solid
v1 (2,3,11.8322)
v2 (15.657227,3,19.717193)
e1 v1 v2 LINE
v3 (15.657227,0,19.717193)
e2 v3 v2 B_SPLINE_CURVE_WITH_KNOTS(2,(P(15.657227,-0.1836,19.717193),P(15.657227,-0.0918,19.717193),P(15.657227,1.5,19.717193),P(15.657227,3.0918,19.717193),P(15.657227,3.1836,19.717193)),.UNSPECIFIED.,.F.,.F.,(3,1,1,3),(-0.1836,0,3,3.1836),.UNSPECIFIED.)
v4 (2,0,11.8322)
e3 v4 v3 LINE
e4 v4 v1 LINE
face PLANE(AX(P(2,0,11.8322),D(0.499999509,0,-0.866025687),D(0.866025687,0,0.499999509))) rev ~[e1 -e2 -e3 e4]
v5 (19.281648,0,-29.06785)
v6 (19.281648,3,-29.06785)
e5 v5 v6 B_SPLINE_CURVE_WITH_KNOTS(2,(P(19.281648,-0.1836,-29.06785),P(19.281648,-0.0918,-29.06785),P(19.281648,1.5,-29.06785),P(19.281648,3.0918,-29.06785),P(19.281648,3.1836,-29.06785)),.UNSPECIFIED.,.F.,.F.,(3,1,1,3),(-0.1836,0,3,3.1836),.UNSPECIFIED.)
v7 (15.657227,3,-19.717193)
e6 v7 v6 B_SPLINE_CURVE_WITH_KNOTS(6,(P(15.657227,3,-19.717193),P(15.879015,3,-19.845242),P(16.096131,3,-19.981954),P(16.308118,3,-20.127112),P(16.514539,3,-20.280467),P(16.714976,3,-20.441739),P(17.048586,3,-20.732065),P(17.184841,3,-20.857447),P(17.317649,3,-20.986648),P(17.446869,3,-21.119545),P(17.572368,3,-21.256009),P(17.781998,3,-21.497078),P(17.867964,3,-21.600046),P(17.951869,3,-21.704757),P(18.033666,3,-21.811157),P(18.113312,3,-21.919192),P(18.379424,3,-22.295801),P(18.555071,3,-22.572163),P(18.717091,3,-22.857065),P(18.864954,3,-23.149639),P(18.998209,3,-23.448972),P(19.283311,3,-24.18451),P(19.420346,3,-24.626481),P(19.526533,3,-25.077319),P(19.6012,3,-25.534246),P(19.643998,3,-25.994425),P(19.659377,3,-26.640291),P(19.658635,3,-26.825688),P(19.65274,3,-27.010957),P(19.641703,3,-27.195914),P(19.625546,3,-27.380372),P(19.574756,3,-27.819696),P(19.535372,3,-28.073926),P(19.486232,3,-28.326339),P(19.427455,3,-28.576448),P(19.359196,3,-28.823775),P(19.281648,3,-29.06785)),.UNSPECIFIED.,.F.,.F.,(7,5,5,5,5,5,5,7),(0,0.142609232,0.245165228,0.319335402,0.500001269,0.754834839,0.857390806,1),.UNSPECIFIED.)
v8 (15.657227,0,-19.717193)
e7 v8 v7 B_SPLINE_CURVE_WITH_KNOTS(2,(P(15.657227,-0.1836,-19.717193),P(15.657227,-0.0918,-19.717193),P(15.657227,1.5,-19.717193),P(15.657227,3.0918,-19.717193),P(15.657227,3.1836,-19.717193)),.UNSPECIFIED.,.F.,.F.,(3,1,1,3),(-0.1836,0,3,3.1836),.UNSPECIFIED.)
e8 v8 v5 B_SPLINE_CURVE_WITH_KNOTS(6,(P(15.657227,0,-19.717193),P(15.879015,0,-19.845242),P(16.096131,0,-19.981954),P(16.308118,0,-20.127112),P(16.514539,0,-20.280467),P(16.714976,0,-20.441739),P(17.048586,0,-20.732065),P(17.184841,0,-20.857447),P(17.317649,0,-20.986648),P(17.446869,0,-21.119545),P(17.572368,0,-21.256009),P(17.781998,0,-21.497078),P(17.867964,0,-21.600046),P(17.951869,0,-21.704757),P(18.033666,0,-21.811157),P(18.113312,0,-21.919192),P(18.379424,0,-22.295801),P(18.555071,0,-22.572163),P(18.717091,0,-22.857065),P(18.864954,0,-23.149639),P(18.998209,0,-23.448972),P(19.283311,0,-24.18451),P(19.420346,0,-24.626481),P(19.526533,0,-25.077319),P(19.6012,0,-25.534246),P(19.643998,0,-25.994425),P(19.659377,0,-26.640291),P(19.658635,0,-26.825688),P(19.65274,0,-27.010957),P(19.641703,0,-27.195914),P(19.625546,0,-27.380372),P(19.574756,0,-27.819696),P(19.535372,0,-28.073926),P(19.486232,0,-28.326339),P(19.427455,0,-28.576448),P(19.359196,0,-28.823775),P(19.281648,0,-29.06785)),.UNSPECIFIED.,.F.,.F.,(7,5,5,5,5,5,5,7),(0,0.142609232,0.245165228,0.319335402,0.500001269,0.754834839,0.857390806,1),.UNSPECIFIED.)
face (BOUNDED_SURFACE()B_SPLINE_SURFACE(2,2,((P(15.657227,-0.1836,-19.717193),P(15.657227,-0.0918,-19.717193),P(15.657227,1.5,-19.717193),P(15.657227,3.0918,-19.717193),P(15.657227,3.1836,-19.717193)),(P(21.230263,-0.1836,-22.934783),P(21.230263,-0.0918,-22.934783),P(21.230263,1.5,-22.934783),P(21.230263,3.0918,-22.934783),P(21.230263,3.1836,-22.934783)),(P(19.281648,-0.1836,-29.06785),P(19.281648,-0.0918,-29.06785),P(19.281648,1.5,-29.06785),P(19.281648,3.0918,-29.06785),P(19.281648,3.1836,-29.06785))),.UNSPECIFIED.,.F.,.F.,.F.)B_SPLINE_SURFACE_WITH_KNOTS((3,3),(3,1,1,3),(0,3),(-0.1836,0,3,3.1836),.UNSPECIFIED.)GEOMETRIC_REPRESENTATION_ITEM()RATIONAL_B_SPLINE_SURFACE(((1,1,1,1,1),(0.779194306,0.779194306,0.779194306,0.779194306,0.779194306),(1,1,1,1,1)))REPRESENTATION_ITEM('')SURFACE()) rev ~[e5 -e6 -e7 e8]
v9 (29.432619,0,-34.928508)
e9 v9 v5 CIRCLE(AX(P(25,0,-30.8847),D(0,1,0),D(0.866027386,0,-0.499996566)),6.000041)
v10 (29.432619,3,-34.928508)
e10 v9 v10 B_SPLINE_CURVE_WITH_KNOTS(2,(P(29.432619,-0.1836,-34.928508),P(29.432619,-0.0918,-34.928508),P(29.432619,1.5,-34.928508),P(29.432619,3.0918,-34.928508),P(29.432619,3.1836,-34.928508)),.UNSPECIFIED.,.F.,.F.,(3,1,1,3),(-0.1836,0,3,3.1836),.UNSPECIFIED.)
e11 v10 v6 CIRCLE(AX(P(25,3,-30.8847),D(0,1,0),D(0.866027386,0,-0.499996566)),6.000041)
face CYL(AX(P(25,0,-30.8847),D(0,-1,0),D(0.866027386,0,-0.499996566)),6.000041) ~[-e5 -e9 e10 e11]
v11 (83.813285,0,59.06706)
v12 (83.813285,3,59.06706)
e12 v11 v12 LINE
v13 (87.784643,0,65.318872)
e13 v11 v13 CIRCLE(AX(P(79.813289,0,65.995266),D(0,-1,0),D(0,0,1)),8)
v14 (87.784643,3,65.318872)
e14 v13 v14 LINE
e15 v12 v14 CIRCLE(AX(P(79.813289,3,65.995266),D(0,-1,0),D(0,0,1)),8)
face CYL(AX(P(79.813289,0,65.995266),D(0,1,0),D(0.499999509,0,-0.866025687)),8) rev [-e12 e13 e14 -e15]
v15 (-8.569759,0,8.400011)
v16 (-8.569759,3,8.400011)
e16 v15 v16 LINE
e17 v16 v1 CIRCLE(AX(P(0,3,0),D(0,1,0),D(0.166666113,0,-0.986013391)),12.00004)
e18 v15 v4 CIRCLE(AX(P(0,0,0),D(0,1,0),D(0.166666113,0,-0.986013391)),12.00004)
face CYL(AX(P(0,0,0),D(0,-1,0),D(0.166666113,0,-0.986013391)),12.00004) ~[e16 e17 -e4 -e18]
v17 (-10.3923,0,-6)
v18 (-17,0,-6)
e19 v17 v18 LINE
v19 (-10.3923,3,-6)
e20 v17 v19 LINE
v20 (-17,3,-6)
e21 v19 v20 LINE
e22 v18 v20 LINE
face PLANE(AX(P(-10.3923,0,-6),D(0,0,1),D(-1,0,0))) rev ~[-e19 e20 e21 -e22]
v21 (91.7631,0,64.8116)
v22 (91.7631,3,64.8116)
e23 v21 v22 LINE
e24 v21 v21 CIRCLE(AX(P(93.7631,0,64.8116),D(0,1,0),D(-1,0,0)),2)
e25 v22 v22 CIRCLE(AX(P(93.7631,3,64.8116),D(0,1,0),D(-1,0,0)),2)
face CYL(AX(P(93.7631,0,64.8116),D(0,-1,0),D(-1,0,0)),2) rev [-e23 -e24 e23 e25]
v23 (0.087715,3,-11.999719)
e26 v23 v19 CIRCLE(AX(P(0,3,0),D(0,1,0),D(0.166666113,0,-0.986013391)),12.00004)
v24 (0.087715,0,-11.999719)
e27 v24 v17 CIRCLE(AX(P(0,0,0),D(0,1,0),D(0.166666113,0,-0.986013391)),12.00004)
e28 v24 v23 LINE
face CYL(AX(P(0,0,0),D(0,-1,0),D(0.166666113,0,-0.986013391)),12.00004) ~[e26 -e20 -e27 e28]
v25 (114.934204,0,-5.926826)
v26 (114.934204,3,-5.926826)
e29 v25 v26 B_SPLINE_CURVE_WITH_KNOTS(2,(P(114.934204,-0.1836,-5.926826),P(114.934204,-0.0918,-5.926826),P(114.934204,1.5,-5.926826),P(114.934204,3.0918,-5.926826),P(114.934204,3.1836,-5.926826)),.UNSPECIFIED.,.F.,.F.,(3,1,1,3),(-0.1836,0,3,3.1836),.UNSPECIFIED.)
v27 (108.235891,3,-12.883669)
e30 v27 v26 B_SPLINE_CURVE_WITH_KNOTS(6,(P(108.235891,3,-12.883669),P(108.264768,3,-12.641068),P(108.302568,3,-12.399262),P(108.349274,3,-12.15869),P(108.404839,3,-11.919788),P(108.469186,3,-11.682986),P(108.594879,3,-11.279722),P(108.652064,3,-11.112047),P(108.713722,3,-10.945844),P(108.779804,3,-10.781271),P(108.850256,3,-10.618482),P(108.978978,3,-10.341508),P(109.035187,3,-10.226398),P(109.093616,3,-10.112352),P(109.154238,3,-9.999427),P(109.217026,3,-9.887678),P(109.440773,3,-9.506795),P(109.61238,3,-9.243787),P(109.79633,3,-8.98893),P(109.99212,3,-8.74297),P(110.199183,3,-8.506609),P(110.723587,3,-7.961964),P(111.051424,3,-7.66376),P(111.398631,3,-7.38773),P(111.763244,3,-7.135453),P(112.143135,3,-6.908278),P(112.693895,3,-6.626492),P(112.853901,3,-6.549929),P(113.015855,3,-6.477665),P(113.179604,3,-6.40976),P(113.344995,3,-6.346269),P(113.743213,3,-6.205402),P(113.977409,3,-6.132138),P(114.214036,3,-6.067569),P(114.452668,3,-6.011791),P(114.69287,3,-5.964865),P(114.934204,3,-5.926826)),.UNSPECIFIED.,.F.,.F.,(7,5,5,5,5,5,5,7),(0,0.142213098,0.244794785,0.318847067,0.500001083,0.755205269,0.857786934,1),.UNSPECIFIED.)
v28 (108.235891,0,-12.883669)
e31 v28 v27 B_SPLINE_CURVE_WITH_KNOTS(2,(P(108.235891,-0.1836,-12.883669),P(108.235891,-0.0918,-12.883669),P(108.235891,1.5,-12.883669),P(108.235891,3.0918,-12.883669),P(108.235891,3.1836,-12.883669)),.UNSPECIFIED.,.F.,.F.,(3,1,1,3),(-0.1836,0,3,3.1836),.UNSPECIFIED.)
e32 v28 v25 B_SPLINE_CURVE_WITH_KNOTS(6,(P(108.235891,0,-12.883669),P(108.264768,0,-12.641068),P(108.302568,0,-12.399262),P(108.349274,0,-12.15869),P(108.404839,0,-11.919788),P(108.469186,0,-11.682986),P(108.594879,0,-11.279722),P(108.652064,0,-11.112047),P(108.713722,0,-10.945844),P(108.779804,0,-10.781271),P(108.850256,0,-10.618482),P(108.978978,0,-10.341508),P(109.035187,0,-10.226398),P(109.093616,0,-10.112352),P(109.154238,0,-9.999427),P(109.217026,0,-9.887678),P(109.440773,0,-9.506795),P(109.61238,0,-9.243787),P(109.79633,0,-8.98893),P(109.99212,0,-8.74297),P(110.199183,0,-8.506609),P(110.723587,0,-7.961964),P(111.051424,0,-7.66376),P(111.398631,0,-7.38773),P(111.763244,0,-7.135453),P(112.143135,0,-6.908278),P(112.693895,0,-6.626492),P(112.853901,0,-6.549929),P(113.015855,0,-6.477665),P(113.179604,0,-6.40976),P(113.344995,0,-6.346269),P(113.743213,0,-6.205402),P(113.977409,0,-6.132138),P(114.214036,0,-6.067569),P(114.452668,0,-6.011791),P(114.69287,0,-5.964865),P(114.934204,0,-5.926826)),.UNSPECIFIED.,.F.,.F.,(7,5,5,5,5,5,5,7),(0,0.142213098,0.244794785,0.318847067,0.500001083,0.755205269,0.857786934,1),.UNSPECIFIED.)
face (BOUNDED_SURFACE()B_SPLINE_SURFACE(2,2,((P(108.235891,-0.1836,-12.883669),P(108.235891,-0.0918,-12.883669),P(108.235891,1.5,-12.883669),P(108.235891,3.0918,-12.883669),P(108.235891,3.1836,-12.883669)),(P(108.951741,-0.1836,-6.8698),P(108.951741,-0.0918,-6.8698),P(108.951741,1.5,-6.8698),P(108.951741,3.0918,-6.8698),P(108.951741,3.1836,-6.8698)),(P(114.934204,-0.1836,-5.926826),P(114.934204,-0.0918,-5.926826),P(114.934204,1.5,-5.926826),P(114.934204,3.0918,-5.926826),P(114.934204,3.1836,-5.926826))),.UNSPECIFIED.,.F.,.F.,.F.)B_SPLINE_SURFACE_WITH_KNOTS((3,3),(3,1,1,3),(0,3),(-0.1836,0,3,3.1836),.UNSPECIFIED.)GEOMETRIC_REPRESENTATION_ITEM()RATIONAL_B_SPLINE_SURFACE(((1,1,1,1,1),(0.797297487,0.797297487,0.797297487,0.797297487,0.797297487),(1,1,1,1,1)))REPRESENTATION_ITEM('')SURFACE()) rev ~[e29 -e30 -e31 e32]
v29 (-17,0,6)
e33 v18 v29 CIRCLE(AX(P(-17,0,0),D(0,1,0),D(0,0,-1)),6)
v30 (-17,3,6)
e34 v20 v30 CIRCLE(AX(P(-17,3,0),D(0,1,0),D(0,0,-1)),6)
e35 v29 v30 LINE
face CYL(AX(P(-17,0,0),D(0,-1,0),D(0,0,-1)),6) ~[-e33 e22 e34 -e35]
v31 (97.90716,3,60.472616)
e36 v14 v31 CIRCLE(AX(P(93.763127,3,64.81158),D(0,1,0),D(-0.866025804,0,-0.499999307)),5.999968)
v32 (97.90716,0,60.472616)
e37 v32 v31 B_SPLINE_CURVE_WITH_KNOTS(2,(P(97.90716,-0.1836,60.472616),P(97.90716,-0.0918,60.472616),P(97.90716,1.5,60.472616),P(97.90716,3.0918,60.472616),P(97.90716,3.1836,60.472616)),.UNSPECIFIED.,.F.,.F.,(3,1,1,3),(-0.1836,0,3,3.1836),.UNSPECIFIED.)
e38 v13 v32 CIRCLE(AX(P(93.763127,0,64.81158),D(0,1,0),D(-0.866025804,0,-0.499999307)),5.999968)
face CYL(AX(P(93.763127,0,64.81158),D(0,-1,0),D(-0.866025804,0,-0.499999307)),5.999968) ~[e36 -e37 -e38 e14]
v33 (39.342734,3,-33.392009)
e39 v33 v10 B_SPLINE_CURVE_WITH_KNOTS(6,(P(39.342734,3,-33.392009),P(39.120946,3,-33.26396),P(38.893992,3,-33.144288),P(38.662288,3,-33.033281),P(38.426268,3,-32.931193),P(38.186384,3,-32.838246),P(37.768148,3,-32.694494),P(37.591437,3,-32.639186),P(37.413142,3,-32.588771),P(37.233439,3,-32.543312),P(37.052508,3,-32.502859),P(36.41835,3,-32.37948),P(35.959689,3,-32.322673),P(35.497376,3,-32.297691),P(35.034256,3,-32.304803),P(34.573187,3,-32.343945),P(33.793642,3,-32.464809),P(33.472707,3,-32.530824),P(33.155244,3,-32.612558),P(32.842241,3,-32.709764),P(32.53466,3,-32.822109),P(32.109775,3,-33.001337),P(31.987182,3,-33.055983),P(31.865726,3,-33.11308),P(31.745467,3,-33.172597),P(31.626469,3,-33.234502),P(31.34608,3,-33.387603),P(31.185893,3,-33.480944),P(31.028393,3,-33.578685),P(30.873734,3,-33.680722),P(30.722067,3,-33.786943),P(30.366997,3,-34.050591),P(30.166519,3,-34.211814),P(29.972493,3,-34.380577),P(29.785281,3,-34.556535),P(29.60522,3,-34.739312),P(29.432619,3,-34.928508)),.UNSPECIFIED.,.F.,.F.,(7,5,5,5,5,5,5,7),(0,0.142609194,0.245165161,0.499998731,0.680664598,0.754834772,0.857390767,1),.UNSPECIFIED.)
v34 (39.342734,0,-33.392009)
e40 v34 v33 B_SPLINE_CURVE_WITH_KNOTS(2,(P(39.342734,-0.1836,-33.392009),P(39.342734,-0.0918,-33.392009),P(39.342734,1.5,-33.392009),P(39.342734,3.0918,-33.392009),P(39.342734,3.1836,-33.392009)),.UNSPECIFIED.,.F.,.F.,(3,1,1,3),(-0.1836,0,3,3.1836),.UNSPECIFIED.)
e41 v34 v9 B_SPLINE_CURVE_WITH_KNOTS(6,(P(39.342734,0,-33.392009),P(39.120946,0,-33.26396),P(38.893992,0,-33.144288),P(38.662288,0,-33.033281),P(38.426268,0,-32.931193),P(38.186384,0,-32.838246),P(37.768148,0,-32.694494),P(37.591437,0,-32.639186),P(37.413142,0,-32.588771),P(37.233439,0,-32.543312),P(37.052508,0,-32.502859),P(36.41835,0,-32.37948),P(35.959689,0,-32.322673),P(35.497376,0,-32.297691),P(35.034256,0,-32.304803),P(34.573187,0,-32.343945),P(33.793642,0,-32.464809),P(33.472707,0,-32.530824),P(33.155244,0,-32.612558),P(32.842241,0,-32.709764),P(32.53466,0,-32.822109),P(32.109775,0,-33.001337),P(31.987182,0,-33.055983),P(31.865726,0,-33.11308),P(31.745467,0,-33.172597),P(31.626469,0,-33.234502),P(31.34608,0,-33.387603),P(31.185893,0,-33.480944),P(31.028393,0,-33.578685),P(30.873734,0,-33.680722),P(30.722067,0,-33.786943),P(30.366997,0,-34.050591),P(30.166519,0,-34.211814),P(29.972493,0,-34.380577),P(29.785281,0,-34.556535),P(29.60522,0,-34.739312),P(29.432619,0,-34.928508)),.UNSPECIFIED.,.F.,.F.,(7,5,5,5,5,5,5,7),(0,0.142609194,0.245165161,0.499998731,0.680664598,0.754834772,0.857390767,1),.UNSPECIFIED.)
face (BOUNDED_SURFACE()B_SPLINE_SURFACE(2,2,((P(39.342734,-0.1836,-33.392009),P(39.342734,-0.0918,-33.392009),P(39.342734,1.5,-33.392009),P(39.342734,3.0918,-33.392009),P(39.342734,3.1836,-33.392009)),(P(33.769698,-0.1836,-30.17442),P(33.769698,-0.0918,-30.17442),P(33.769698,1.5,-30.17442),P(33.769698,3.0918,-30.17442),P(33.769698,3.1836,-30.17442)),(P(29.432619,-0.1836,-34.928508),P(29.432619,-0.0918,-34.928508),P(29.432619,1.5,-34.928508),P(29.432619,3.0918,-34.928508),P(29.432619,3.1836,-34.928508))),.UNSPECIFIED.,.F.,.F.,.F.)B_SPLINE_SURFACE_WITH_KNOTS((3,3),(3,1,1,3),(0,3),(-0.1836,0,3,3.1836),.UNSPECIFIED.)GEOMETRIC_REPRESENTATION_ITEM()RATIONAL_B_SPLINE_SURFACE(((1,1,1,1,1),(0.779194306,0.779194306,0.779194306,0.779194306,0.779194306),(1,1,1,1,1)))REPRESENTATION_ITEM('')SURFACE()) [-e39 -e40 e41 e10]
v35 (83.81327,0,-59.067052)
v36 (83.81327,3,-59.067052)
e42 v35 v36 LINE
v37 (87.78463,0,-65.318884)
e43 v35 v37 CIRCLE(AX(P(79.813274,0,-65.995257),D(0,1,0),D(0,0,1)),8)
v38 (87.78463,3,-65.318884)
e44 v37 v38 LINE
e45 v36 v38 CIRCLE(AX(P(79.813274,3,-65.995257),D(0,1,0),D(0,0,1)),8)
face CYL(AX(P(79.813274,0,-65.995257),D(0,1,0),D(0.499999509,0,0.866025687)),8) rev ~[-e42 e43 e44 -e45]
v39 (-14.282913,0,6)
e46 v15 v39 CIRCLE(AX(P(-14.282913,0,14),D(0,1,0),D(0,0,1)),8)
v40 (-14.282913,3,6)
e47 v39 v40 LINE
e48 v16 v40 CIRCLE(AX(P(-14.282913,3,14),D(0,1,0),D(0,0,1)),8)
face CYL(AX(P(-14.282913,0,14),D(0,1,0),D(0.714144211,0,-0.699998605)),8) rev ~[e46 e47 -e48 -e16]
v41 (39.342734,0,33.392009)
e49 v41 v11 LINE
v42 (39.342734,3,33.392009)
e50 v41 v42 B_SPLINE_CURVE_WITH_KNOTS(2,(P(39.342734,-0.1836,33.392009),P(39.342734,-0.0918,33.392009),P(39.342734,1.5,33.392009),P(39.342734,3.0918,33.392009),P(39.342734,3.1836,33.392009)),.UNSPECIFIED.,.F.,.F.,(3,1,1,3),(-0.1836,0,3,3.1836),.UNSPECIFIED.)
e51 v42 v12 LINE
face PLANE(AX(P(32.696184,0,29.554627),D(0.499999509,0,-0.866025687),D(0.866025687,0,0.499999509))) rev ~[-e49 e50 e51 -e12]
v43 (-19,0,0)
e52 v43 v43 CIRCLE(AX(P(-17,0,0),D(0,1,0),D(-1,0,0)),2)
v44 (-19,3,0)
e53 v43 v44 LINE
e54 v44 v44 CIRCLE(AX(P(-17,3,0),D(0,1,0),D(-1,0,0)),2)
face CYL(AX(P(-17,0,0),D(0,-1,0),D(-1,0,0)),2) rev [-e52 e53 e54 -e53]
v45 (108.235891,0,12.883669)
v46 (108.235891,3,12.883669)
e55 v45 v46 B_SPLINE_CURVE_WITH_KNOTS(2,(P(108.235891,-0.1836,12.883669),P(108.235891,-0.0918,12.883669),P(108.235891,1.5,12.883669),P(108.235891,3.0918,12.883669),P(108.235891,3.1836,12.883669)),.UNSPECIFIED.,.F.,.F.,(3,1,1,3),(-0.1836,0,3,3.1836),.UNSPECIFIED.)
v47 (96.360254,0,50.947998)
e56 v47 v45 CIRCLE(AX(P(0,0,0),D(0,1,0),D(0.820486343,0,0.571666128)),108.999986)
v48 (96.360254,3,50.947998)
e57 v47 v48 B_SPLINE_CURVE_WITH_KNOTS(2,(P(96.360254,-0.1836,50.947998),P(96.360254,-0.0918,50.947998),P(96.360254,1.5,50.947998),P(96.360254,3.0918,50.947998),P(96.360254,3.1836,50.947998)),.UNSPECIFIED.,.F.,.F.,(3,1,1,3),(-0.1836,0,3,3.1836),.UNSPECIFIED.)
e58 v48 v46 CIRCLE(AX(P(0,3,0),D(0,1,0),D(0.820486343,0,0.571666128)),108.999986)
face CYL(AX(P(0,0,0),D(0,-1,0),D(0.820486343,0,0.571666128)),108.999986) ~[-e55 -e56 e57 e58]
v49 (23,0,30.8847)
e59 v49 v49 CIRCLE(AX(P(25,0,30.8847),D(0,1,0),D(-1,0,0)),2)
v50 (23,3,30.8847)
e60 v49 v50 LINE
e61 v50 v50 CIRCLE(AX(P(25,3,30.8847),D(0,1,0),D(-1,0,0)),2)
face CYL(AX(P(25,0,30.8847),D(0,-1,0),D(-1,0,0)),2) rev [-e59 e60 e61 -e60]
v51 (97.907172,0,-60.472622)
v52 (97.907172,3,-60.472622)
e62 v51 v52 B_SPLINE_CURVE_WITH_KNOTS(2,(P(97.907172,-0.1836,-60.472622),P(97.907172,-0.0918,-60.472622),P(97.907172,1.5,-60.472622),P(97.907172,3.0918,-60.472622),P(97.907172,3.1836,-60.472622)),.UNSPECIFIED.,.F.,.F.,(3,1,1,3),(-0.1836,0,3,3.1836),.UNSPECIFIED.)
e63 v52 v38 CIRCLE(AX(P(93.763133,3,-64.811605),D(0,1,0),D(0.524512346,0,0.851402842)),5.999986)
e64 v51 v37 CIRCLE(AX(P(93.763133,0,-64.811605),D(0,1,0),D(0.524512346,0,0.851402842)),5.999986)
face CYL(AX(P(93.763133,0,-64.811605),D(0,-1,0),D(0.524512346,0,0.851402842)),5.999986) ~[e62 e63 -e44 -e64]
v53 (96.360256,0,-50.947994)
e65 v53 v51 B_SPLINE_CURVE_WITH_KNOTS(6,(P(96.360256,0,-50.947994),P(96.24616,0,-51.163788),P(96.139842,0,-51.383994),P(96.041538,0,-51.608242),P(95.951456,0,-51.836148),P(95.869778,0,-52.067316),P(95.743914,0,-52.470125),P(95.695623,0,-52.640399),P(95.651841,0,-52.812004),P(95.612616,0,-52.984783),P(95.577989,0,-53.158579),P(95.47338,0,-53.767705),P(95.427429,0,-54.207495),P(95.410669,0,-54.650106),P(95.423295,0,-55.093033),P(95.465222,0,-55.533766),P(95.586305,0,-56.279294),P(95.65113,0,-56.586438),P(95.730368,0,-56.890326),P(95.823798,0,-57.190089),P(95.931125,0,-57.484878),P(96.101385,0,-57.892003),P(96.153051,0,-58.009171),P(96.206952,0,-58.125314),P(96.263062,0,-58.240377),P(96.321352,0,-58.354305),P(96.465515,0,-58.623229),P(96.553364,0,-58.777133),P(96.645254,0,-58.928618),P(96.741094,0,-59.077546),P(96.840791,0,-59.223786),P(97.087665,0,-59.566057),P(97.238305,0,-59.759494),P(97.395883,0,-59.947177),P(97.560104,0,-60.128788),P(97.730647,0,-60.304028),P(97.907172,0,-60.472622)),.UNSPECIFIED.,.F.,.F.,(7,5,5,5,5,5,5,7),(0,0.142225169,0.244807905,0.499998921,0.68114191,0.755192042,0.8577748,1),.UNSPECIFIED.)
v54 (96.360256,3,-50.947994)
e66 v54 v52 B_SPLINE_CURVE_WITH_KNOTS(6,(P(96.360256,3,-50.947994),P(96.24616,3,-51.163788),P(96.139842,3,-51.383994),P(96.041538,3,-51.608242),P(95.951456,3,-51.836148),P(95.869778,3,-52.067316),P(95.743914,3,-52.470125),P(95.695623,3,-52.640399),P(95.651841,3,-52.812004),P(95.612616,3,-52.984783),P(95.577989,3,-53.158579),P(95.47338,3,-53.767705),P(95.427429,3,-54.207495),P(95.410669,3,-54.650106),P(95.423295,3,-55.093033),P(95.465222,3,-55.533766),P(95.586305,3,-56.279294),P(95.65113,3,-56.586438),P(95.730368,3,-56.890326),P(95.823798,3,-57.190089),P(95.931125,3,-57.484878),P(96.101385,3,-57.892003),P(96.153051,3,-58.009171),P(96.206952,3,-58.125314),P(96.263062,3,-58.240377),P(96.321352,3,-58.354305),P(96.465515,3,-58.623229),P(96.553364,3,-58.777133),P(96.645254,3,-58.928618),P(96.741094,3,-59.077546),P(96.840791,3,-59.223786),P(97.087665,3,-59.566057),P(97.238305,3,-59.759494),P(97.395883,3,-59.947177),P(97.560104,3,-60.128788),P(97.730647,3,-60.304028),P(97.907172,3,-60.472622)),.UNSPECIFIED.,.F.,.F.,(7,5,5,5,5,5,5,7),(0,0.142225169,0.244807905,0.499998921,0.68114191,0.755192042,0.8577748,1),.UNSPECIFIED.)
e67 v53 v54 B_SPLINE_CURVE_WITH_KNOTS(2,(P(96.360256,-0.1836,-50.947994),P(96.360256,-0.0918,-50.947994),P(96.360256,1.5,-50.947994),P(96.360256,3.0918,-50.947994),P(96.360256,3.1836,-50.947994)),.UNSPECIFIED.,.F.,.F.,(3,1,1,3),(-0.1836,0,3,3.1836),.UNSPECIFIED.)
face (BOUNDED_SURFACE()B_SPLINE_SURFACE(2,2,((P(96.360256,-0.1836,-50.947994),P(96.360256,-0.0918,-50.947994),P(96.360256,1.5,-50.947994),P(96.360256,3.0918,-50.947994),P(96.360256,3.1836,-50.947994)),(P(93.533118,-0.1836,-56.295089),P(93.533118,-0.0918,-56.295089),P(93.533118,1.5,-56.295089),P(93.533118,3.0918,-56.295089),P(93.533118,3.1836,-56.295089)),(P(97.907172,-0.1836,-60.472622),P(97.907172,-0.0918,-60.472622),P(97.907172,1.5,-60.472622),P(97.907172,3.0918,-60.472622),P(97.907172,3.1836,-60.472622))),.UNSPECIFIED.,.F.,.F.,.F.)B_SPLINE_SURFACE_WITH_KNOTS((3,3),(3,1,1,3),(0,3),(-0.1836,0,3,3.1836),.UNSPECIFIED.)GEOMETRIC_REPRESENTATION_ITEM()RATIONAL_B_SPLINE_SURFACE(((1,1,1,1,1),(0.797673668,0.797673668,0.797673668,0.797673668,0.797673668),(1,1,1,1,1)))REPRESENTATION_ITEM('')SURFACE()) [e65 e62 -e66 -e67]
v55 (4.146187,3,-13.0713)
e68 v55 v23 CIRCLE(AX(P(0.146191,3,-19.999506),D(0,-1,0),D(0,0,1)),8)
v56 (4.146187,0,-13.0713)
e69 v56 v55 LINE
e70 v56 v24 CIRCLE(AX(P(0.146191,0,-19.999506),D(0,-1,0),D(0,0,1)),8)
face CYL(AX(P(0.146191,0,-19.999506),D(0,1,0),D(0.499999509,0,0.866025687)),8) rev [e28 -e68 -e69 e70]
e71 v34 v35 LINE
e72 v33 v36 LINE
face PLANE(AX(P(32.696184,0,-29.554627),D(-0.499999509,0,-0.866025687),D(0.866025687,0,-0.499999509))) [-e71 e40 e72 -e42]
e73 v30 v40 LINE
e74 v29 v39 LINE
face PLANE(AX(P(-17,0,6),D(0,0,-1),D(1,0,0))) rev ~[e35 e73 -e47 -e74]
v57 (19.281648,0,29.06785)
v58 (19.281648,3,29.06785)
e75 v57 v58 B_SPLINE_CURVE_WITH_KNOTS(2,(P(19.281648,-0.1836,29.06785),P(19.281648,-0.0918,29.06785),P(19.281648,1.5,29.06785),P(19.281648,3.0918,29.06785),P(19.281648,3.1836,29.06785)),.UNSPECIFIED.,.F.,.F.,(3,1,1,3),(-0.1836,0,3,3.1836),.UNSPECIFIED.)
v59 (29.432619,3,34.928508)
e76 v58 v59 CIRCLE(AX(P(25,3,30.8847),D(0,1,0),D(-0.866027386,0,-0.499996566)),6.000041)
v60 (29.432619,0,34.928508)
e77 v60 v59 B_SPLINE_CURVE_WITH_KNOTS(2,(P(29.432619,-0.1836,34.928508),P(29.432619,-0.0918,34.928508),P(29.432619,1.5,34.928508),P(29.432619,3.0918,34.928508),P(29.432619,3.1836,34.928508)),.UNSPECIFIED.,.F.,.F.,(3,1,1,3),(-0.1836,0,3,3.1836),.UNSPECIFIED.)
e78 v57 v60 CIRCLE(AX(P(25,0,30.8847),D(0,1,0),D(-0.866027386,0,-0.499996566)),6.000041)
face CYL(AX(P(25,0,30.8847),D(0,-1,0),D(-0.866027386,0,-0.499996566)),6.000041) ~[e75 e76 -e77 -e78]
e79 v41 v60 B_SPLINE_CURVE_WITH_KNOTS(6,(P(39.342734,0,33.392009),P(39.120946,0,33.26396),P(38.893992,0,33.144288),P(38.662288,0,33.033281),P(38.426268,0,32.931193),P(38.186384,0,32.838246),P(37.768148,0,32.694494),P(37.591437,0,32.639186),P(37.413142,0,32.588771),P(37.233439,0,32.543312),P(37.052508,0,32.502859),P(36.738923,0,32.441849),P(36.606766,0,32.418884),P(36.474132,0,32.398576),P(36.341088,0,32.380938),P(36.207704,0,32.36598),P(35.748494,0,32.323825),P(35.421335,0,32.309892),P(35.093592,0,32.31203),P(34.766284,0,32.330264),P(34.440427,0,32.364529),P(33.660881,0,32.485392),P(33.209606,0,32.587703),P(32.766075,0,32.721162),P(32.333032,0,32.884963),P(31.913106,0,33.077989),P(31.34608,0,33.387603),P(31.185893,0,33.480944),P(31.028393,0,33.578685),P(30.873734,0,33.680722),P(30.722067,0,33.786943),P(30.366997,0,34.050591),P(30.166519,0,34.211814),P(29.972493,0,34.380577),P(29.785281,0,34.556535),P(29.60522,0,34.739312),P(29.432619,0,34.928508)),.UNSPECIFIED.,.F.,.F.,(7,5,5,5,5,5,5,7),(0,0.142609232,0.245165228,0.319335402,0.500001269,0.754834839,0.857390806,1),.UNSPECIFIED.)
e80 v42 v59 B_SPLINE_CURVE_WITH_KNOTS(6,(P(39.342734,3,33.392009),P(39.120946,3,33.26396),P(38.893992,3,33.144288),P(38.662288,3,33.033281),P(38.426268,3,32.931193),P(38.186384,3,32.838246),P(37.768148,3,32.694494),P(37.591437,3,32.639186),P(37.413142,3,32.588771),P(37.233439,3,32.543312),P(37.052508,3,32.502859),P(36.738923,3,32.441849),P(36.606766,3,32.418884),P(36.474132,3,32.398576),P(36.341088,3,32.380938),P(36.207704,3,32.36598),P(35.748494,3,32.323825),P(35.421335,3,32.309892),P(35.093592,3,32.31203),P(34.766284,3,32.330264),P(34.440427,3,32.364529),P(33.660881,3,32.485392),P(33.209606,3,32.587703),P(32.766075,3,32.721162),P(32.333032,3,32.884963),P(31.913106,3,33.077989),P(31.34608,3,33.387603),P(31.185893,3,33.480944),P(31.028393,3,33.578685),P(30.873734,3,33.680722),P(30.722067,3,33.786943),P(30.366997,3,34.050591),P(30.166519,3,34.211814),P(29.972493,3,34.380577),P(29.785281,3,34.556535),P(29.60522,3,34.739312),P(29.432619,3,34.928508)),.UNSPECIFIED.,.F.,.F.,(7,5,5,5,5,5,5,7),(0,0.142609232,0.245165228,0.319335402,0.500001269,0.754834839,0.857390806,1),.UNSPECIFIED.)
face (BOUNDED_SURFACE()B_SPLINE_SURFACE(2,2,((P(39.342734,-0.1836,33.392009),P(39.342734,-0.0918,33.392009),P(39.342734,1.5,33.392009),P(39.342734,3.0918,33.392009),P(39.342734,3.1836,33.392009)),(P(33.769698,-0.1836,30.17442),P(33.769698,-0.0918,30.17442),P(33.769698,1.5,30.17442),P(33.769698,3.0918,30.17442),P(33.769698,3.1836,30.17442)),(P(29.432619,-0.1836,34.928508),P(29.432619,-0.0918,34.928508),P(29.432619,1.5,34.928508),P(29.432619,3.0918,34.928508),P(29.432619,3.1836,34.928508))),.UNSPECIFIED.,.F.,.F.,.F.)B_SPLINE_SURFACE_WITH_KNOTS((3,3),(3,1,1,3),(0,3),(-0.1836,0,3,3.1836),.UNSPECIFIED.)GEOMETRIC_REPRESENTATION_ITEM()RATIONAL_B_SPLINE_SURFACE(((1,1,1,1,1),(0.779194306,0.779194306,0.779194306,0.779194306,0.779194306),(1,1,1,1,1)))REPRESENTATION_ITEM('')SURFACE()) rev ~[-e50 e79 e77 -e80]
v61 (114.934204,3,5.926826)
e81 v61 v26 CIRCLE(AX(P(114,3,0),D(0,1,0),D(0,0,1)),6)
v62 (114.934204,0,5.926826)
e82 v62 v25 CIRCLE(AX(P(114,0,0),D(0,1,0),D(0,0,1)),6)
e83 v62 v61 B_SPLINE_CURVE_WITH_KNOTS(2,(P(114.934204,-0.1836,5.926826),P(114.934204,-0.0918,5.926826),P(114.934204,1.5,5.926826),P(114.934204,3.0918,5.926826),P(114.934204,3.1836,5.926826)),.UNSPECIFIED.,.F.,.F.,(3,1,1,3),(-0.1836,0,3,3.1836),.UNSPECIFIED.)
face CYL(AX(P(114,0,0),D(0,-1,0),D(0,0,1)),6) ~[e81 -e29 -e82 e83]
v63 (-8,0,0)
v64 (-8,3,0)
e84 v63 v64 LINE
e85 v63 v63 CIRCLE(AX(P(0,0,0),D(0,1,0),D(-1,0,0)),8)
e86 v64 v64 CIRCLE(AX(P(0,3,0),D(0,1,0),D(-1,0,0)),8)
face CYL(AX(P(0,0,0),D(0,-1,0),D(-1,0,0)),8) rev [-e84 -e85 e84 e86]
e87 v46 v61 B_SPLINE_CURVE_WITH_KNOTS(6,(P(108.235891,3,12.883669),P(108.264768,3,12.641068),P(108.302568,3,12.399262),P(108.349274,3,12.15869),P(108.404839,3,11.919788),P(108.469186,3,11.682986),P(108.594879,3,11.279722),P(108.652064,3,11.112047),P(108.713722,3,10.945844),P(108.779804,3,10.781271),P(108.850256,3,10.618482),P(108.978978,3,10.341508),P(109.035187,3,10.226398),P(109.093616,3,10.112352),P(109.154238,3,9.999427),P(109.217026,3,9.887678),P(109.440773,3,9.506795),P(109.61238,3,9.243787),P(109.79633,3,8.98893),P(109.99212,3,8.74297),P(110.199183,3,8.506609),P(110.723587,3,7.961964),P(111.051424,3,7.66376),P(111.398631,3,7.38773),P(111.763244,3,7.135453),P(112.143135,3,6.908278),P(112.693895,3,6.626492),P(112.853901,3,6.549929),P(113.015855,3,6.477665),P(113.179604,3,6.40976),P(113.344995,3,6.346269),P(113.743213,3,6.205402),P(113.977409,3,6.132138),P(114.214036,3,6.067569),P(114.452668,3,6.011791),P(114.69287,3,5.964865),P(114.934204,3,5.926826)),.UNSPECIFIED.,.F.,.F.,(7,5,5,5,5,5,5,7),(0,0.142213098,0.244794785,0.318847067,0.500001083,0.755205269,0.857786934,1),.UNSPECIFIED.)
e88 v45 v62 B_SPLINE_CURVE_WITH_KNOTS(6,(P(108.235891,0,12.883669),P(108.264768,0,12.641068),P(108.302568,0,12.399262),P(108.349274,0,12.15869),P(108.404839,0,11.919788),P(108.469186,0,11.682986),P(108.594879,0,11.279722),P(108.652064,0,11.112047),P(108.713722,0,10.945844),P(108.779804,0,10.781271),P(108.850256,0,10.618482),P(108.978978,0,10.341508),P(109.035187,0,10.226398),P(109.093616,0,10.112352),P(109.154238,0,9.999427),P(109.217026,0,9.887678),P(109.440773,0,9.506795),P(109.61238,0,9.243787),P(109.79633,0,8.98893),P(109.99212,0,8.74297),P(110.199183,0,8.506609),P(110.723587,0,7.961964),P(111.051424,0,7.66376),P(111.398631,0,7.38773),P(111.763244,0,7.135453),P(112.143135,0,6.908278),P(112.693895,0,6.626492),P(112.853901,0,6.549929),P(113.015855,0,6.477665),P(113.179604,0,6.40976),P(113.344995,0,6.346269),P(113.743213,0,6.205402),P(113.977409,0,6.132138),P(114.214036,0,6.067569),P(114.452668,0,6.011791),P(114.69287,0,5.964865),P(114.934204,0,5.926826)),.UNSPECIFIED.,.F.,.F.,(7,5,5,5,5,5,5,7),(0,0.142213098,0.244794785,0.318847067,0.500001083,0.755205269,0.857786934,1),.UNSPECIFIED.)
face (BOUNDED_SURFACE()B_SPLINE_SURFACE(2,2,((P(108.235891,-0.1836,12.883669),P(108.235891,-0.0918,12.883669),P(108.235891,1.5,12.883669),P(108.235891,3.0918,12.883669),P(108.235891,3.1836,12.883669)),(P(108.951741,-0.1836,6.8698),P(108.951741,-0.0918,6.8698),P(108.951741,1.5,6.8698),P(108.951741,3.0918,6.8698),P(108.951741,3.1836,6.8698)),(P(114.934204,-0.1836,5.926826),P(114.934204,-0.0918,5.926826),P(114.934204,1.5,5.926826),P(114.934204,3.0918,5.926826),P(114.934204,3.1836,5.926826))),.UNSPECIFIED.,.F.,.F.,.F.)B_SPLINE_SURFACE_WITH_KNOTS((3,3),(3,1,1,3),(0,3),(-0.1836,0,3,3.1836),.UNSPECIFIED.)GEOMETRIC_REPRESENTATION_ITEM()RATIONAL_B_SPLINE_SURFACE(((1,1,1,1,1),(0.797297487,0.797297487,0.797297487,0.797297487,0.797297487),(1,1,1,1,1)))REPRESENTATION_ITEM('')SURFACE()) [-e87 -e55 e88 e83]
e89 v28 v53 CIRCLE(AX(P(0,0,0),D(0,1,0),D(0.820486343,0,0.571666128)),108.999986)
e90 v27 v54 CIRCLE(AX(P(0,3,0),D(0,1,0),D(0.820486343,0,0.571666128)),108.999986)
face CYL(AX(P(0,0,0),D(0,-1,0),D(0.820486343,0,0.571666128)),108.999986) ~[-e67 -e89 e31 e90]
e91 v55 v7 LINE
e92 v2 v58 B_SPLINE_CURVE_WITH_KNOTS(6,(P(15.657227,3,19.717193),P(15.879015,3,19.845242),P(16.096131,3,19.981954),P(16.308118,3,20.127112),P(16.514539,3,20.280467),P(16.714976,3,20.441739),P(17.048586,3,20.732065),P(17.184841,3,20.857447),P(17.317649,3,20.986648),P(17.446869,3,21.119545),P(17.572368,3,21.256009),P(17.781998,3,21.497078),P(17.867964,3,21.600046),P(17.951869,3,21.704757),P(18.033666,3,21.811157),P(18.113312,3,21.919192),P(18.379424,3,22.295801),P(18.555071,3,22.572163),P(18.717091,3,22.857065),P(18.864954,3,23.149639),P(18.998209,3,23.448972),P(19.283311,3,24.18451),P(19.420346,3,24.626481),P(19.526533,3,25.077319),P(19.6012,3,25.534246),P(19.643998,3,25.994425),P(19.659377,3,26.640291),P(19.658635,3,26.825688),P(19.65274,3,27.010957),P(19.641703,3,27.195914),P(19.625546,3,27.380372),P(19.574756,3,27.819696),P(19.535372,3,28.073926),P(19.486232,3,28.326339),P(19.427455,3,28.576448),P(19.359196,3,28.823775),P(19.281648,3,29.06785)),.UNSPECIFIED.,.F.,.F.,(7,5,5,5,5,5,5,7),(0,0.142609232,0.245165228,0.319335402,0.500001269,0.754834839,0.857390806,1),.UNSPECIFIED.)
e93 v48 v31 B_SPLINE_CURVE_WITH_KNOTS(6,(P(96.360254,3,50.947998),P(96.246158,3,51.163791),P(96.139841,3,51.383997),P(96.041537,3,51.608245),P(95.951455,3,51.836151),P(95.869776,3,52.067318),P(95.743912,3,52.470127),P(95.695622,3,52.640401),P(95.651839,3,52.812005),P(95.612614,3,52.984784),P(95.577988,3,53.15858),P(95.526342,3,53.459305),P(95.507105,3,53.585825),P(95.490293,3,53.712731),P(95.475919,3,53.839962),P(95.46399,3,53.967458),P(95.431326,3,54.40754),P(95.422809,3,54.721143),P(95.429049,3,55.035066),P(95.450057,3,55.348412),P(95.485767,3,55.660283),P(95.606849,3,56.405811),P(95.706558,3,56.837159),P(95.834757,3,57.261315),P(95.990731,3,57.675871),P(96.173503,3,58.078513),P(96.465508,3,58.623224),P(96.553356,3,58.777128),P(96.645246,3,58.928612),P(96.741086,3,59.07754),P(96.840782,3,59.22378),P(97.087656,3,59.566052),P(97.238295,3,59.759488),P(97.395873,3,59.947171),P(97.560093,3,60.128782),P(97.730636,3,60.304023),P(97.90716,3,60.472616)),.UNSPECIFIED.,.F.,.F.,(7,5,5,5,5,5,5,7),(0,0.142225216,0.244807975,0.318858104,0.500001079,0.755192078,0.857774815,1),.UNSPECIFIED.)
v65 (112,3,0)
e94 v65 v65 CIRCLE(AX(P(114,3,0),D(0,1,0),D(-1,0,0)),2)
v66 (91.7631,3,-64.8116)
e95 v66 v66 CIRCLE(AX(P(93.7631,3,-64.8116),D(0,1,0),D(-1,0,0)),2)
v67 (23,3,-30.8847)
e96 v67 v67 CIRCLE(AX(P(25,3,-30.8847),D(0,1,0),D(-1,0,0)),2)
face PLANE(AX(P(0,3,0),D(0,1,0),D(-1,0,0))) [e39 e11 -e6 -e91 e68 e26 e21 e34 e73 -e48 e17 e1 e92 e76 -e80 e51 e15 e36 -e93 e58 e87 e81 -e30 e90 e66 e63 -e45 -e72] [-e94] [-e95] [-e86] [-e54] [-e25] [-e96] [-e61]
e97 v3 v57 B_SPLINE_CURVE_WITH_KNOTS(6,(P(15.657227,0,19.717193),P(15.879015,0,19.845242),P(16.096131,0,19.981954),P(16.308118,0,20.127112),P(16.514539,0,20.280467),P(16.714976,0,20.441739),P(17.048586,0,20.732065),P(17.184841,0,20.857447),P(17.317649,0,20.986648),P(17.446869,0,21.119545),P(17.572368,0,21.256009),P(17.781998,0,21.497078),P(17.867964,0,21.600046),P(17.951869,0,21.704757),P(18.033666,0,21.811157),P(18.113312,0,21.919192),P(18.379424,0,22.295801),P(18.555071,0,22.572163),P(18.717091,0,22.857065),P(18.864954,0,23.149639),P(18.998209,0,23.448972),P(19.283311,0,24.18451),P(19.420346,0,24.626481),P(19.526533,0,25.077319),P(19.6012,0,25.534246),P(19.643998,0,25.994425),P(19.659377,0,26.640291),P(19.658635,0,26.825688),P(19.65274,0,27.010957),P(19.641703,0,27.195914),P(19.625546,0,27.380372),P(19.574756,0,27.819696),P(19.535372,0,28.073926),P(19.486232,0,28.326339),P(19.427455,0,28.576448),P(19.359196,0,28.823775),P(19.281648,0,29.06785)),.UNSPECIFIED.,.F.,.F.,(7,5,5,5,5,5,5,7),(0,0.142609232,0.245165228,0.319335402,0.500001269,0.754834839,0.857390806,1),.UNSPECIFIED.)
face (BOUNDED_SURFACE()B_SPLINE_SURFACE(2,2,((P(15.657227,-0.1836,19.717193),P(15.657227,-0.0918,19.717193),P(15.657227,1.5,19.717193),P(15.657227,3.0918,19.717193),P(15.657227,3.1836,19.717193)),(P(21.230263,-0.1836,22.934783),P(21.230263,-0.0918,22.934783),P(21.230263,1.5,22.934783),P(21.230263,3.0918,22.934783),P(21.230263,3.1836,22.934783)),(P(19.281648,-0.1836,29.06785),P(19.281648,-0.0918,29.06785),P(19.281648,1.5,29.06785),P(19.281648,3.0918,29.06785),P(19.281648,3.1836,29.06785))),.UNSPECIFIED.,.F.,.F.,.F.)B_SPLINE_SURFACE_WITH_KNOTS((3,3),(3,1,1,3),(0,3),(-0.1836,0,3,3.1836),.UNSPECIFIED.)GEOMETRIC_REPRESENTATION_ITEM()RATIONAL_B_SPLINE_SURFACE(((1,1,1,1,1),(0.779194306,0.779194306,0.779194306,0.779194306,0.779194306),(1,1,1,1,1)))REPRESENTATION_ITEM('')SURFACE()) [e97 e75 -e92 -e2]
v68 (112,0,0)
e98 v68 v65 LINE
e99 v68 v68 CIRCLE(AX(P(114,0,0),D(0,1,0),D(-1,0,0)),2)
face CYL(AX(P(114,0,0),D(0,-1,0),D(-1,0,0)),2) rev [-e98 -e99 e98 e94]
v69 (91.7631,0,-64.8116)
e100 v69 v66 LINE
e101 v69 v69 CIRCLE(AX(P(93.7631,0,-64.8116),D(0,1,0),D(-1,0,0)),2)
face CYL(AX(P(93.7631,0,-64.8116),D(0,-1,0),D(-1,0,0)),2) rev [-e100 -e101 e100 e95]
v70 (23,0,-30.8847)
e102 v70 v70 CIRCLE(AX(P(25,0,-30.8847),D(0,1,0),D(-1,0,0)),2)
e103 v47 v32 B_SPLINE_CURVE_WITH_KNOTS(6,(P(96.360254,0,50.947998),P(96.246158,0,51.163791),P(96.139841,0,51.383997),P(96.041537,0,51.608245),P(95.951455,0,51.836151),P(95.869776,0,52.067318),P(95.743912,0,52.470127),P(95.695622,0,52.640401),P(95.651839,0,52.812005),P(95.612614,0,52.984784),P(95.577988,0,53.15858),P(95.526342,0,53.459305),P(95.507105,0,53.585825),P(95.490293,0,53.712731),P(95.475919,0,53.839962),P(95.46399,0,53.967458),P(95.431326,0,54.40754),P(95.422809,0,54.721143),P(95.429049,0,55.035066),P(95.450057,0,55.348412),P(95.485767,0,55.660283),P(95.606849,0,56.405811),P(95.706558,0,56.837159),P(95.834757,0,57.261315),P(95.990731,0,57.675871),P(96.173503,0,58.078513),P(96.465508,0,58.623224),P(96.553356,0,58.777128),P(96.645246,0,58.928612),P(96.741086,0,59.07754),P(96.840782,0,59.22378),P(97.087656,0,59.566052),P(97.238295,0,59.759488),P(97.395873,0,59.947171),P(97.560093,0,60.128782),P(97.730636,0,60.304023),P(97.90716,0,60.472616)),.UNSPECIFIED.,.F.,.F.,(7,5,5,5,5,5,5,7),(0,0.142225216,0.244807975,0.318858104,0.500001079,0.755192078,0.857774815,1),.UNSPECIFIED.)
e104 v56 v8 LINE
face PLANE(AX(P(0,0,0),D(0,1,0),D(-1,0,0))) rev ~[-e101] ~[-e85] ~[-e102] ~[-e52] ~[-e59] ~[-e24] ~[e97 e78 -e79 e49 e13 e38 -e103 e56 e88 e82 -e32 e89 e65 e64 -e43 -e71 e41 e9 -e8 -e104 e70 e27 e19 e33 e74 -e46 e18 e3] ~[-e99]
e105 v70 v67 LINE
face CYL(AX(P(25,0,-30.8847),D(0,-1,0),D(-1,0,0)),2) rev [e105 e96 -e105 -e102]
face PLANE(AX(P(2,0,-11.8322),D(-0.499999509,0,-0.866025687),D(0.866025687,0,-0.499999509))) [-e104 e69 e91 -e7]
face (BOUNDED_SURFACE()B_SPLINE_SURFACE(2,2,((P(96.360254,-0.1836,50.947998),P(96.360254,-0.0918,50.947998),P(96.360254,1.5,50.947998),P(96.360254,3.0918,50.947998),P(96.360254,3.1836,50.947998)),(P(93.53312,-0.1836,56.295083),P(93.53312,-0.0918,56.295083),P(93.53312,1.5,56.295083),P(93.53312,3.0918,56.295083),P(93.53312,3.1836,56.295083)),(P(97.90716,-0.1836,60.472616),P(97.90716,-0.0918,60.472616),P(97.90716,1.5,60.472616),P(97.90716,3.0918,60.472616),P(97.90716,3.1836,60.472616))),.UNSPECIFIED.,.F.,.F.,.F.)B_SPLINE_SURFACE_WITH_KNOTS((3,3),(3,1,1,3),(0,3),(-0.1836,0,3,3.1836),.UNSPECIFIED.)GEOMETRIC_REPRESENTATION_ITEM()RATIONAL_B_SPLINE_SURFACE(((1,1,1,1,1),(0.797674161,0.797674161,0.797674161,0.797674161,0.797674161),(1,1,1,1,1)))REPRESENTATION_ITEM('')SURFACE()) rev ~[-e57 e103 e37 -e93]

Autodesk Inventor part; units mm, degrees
ref_plane "YZ Plane" through (0, 0, 0) normal (1, 0, 0) x (0, 1, 0)
ref_plane "XZ Plane" through (0, 0, 0) normal (0, 1, 0) x (-1, 0, 0)
ref_plane "XY Plane" through (0, 0, 0) normal (0, 0, 1) x (1, 0, 0)
sketch "Sketch1" plane through (0, 0, 0) normal (0, 1, 0) x (-1, 0, 0)
  circle A0 centre (0, 0) radius 8
  arc A1 (-82.4777, 58.296) -> (-82.4777, -58.296) centre (0, 0) ccw construction
  arc A2 (-86.8253, 60.806) -> (-86.8253, -60.806) centre (0, 0) ccw construction
  arc A3 (-2, -11.8322) -> (-2, 11.8322) centre (0, 0) ccw
  line L0 (-2, -11.8322) -> (-89.433, -62.3116)
  arc A4 (-89.433, 62.3116) -> (-89.433, -62.3116) centre (0, 0) ccw
  line L1 (-2, 11.8322) -> (-89.433, 62.3116)
  circle A5 centre (-93.7631, -64.8116) radius 2
  circle A6 centre (-93.7631, 64.8116) radius 2
  circle A7 centre (-114, 0) radius 2
  circle A8 centre (-25, -30.8847) radius 2
  circle A9 centre (-25, 30.8847) radius 2
  circle A10 centre (17, 0) radius 2
  line L2 (10.3923, -6) -> (17, -6)
  arc A11 (17, -6) -> (17, 6) centre (17, 0) ccw
  line L3 (17, 6) -> (10.3923, 6)
  line L4 (-22.3038, -23.5546) -> (-19.8038, -27.8847)
  arc A12 (-30.1962, -33.8847) -> (-19.8038, -27.8847) centre (-25, -30.8847) ccw
  line L5 (-30.1962, -33.8847) -> (-32.6962, -29.5546)
  line L6 (-22.3038, 23.5546) -> (-19.8038, 27.8847)
  arc A13 (-19.8038, 27.8847) -> (-30.1962, 33.8847) centre (-25, 30.8847) ccw
  line L7 (-30.1962, 33.8847) -> (-32.6962, 29.5546)
  line L8 (-92.8025, 57.1726) -> (-96.9102, 59.7032)
  arc A14 (-88.567, 61.8116) -> (-96.9102, 59.7032) centre (-93.7631, 64.8116) ccw
  line L9 (-108.8347, -6) -> (-114, -6)
  arc A15 (-114, 6) -> (-114, -6) centre (-114, 0) ccw
  line L10 (-114, 6) -> (-108.8347, 6)
  line L11 (-92.8025, -57.1726) -> (-96.9102, -59.7032)
  arc A16 (-96.9102, -59.7032) -> (-88.567, -61.8116) centre (-93.7631, -64.8116) ccw
  point P0 (-109, 0)
  point P1 (12, 0)
  dimension "d0" = 16
  dimension "d1" = 101
  dimension "d3" = 12
  dimension "d6" = 60
  dimension "d7" = 2
  dimension "d8" = 5
  dimension "d9" = 3
  dimension "d10" = 4
  dimension "d12" = 5
  dimension "d13" = 5
  dimension "d14" = 5
  dimension "d15" = 5
  dimension "d16" = 5
  dimension "d17" = 5
  dimension "d18" = 25
  dimension "d19" = 6
  dimension "d20" = 6
extrude "Extrusion1" add sketch "Sketch1" along normal blind 3 contours L0 A4 L1 A3
extrude "Extrusion2" add sketch "Sketch1" along normal blind 3 contours A3 L3 A11 L2 | L4 A12 L5 L0 | A16 L11 A4 L0 | L1 L7 A13 L6 | L1 A4 L8 A14 | L9 A15 L10 A4
fillet "Fillet1" radius 8 12 edges at (32.6962, 1.5, 29.5546) (22.3038, 1.5, 23.5546) (88.567, 1.5, 61.8116) (92.8025, 1.5, 57.1726) (108.8347, 1.5, -6) (108.8347, 1.5, 6) (92.8025, 1.5, -57.1726) (88.567, 1.5, -61.8116) (32.6962, 1.5, -29.5546) (22.3038, 1.5, -23.5546) (2, 1.5, -11.8322) (-10.3923, 1.5, 6)
properties part number "RailBase" material "Polycarbonate, Clear"
